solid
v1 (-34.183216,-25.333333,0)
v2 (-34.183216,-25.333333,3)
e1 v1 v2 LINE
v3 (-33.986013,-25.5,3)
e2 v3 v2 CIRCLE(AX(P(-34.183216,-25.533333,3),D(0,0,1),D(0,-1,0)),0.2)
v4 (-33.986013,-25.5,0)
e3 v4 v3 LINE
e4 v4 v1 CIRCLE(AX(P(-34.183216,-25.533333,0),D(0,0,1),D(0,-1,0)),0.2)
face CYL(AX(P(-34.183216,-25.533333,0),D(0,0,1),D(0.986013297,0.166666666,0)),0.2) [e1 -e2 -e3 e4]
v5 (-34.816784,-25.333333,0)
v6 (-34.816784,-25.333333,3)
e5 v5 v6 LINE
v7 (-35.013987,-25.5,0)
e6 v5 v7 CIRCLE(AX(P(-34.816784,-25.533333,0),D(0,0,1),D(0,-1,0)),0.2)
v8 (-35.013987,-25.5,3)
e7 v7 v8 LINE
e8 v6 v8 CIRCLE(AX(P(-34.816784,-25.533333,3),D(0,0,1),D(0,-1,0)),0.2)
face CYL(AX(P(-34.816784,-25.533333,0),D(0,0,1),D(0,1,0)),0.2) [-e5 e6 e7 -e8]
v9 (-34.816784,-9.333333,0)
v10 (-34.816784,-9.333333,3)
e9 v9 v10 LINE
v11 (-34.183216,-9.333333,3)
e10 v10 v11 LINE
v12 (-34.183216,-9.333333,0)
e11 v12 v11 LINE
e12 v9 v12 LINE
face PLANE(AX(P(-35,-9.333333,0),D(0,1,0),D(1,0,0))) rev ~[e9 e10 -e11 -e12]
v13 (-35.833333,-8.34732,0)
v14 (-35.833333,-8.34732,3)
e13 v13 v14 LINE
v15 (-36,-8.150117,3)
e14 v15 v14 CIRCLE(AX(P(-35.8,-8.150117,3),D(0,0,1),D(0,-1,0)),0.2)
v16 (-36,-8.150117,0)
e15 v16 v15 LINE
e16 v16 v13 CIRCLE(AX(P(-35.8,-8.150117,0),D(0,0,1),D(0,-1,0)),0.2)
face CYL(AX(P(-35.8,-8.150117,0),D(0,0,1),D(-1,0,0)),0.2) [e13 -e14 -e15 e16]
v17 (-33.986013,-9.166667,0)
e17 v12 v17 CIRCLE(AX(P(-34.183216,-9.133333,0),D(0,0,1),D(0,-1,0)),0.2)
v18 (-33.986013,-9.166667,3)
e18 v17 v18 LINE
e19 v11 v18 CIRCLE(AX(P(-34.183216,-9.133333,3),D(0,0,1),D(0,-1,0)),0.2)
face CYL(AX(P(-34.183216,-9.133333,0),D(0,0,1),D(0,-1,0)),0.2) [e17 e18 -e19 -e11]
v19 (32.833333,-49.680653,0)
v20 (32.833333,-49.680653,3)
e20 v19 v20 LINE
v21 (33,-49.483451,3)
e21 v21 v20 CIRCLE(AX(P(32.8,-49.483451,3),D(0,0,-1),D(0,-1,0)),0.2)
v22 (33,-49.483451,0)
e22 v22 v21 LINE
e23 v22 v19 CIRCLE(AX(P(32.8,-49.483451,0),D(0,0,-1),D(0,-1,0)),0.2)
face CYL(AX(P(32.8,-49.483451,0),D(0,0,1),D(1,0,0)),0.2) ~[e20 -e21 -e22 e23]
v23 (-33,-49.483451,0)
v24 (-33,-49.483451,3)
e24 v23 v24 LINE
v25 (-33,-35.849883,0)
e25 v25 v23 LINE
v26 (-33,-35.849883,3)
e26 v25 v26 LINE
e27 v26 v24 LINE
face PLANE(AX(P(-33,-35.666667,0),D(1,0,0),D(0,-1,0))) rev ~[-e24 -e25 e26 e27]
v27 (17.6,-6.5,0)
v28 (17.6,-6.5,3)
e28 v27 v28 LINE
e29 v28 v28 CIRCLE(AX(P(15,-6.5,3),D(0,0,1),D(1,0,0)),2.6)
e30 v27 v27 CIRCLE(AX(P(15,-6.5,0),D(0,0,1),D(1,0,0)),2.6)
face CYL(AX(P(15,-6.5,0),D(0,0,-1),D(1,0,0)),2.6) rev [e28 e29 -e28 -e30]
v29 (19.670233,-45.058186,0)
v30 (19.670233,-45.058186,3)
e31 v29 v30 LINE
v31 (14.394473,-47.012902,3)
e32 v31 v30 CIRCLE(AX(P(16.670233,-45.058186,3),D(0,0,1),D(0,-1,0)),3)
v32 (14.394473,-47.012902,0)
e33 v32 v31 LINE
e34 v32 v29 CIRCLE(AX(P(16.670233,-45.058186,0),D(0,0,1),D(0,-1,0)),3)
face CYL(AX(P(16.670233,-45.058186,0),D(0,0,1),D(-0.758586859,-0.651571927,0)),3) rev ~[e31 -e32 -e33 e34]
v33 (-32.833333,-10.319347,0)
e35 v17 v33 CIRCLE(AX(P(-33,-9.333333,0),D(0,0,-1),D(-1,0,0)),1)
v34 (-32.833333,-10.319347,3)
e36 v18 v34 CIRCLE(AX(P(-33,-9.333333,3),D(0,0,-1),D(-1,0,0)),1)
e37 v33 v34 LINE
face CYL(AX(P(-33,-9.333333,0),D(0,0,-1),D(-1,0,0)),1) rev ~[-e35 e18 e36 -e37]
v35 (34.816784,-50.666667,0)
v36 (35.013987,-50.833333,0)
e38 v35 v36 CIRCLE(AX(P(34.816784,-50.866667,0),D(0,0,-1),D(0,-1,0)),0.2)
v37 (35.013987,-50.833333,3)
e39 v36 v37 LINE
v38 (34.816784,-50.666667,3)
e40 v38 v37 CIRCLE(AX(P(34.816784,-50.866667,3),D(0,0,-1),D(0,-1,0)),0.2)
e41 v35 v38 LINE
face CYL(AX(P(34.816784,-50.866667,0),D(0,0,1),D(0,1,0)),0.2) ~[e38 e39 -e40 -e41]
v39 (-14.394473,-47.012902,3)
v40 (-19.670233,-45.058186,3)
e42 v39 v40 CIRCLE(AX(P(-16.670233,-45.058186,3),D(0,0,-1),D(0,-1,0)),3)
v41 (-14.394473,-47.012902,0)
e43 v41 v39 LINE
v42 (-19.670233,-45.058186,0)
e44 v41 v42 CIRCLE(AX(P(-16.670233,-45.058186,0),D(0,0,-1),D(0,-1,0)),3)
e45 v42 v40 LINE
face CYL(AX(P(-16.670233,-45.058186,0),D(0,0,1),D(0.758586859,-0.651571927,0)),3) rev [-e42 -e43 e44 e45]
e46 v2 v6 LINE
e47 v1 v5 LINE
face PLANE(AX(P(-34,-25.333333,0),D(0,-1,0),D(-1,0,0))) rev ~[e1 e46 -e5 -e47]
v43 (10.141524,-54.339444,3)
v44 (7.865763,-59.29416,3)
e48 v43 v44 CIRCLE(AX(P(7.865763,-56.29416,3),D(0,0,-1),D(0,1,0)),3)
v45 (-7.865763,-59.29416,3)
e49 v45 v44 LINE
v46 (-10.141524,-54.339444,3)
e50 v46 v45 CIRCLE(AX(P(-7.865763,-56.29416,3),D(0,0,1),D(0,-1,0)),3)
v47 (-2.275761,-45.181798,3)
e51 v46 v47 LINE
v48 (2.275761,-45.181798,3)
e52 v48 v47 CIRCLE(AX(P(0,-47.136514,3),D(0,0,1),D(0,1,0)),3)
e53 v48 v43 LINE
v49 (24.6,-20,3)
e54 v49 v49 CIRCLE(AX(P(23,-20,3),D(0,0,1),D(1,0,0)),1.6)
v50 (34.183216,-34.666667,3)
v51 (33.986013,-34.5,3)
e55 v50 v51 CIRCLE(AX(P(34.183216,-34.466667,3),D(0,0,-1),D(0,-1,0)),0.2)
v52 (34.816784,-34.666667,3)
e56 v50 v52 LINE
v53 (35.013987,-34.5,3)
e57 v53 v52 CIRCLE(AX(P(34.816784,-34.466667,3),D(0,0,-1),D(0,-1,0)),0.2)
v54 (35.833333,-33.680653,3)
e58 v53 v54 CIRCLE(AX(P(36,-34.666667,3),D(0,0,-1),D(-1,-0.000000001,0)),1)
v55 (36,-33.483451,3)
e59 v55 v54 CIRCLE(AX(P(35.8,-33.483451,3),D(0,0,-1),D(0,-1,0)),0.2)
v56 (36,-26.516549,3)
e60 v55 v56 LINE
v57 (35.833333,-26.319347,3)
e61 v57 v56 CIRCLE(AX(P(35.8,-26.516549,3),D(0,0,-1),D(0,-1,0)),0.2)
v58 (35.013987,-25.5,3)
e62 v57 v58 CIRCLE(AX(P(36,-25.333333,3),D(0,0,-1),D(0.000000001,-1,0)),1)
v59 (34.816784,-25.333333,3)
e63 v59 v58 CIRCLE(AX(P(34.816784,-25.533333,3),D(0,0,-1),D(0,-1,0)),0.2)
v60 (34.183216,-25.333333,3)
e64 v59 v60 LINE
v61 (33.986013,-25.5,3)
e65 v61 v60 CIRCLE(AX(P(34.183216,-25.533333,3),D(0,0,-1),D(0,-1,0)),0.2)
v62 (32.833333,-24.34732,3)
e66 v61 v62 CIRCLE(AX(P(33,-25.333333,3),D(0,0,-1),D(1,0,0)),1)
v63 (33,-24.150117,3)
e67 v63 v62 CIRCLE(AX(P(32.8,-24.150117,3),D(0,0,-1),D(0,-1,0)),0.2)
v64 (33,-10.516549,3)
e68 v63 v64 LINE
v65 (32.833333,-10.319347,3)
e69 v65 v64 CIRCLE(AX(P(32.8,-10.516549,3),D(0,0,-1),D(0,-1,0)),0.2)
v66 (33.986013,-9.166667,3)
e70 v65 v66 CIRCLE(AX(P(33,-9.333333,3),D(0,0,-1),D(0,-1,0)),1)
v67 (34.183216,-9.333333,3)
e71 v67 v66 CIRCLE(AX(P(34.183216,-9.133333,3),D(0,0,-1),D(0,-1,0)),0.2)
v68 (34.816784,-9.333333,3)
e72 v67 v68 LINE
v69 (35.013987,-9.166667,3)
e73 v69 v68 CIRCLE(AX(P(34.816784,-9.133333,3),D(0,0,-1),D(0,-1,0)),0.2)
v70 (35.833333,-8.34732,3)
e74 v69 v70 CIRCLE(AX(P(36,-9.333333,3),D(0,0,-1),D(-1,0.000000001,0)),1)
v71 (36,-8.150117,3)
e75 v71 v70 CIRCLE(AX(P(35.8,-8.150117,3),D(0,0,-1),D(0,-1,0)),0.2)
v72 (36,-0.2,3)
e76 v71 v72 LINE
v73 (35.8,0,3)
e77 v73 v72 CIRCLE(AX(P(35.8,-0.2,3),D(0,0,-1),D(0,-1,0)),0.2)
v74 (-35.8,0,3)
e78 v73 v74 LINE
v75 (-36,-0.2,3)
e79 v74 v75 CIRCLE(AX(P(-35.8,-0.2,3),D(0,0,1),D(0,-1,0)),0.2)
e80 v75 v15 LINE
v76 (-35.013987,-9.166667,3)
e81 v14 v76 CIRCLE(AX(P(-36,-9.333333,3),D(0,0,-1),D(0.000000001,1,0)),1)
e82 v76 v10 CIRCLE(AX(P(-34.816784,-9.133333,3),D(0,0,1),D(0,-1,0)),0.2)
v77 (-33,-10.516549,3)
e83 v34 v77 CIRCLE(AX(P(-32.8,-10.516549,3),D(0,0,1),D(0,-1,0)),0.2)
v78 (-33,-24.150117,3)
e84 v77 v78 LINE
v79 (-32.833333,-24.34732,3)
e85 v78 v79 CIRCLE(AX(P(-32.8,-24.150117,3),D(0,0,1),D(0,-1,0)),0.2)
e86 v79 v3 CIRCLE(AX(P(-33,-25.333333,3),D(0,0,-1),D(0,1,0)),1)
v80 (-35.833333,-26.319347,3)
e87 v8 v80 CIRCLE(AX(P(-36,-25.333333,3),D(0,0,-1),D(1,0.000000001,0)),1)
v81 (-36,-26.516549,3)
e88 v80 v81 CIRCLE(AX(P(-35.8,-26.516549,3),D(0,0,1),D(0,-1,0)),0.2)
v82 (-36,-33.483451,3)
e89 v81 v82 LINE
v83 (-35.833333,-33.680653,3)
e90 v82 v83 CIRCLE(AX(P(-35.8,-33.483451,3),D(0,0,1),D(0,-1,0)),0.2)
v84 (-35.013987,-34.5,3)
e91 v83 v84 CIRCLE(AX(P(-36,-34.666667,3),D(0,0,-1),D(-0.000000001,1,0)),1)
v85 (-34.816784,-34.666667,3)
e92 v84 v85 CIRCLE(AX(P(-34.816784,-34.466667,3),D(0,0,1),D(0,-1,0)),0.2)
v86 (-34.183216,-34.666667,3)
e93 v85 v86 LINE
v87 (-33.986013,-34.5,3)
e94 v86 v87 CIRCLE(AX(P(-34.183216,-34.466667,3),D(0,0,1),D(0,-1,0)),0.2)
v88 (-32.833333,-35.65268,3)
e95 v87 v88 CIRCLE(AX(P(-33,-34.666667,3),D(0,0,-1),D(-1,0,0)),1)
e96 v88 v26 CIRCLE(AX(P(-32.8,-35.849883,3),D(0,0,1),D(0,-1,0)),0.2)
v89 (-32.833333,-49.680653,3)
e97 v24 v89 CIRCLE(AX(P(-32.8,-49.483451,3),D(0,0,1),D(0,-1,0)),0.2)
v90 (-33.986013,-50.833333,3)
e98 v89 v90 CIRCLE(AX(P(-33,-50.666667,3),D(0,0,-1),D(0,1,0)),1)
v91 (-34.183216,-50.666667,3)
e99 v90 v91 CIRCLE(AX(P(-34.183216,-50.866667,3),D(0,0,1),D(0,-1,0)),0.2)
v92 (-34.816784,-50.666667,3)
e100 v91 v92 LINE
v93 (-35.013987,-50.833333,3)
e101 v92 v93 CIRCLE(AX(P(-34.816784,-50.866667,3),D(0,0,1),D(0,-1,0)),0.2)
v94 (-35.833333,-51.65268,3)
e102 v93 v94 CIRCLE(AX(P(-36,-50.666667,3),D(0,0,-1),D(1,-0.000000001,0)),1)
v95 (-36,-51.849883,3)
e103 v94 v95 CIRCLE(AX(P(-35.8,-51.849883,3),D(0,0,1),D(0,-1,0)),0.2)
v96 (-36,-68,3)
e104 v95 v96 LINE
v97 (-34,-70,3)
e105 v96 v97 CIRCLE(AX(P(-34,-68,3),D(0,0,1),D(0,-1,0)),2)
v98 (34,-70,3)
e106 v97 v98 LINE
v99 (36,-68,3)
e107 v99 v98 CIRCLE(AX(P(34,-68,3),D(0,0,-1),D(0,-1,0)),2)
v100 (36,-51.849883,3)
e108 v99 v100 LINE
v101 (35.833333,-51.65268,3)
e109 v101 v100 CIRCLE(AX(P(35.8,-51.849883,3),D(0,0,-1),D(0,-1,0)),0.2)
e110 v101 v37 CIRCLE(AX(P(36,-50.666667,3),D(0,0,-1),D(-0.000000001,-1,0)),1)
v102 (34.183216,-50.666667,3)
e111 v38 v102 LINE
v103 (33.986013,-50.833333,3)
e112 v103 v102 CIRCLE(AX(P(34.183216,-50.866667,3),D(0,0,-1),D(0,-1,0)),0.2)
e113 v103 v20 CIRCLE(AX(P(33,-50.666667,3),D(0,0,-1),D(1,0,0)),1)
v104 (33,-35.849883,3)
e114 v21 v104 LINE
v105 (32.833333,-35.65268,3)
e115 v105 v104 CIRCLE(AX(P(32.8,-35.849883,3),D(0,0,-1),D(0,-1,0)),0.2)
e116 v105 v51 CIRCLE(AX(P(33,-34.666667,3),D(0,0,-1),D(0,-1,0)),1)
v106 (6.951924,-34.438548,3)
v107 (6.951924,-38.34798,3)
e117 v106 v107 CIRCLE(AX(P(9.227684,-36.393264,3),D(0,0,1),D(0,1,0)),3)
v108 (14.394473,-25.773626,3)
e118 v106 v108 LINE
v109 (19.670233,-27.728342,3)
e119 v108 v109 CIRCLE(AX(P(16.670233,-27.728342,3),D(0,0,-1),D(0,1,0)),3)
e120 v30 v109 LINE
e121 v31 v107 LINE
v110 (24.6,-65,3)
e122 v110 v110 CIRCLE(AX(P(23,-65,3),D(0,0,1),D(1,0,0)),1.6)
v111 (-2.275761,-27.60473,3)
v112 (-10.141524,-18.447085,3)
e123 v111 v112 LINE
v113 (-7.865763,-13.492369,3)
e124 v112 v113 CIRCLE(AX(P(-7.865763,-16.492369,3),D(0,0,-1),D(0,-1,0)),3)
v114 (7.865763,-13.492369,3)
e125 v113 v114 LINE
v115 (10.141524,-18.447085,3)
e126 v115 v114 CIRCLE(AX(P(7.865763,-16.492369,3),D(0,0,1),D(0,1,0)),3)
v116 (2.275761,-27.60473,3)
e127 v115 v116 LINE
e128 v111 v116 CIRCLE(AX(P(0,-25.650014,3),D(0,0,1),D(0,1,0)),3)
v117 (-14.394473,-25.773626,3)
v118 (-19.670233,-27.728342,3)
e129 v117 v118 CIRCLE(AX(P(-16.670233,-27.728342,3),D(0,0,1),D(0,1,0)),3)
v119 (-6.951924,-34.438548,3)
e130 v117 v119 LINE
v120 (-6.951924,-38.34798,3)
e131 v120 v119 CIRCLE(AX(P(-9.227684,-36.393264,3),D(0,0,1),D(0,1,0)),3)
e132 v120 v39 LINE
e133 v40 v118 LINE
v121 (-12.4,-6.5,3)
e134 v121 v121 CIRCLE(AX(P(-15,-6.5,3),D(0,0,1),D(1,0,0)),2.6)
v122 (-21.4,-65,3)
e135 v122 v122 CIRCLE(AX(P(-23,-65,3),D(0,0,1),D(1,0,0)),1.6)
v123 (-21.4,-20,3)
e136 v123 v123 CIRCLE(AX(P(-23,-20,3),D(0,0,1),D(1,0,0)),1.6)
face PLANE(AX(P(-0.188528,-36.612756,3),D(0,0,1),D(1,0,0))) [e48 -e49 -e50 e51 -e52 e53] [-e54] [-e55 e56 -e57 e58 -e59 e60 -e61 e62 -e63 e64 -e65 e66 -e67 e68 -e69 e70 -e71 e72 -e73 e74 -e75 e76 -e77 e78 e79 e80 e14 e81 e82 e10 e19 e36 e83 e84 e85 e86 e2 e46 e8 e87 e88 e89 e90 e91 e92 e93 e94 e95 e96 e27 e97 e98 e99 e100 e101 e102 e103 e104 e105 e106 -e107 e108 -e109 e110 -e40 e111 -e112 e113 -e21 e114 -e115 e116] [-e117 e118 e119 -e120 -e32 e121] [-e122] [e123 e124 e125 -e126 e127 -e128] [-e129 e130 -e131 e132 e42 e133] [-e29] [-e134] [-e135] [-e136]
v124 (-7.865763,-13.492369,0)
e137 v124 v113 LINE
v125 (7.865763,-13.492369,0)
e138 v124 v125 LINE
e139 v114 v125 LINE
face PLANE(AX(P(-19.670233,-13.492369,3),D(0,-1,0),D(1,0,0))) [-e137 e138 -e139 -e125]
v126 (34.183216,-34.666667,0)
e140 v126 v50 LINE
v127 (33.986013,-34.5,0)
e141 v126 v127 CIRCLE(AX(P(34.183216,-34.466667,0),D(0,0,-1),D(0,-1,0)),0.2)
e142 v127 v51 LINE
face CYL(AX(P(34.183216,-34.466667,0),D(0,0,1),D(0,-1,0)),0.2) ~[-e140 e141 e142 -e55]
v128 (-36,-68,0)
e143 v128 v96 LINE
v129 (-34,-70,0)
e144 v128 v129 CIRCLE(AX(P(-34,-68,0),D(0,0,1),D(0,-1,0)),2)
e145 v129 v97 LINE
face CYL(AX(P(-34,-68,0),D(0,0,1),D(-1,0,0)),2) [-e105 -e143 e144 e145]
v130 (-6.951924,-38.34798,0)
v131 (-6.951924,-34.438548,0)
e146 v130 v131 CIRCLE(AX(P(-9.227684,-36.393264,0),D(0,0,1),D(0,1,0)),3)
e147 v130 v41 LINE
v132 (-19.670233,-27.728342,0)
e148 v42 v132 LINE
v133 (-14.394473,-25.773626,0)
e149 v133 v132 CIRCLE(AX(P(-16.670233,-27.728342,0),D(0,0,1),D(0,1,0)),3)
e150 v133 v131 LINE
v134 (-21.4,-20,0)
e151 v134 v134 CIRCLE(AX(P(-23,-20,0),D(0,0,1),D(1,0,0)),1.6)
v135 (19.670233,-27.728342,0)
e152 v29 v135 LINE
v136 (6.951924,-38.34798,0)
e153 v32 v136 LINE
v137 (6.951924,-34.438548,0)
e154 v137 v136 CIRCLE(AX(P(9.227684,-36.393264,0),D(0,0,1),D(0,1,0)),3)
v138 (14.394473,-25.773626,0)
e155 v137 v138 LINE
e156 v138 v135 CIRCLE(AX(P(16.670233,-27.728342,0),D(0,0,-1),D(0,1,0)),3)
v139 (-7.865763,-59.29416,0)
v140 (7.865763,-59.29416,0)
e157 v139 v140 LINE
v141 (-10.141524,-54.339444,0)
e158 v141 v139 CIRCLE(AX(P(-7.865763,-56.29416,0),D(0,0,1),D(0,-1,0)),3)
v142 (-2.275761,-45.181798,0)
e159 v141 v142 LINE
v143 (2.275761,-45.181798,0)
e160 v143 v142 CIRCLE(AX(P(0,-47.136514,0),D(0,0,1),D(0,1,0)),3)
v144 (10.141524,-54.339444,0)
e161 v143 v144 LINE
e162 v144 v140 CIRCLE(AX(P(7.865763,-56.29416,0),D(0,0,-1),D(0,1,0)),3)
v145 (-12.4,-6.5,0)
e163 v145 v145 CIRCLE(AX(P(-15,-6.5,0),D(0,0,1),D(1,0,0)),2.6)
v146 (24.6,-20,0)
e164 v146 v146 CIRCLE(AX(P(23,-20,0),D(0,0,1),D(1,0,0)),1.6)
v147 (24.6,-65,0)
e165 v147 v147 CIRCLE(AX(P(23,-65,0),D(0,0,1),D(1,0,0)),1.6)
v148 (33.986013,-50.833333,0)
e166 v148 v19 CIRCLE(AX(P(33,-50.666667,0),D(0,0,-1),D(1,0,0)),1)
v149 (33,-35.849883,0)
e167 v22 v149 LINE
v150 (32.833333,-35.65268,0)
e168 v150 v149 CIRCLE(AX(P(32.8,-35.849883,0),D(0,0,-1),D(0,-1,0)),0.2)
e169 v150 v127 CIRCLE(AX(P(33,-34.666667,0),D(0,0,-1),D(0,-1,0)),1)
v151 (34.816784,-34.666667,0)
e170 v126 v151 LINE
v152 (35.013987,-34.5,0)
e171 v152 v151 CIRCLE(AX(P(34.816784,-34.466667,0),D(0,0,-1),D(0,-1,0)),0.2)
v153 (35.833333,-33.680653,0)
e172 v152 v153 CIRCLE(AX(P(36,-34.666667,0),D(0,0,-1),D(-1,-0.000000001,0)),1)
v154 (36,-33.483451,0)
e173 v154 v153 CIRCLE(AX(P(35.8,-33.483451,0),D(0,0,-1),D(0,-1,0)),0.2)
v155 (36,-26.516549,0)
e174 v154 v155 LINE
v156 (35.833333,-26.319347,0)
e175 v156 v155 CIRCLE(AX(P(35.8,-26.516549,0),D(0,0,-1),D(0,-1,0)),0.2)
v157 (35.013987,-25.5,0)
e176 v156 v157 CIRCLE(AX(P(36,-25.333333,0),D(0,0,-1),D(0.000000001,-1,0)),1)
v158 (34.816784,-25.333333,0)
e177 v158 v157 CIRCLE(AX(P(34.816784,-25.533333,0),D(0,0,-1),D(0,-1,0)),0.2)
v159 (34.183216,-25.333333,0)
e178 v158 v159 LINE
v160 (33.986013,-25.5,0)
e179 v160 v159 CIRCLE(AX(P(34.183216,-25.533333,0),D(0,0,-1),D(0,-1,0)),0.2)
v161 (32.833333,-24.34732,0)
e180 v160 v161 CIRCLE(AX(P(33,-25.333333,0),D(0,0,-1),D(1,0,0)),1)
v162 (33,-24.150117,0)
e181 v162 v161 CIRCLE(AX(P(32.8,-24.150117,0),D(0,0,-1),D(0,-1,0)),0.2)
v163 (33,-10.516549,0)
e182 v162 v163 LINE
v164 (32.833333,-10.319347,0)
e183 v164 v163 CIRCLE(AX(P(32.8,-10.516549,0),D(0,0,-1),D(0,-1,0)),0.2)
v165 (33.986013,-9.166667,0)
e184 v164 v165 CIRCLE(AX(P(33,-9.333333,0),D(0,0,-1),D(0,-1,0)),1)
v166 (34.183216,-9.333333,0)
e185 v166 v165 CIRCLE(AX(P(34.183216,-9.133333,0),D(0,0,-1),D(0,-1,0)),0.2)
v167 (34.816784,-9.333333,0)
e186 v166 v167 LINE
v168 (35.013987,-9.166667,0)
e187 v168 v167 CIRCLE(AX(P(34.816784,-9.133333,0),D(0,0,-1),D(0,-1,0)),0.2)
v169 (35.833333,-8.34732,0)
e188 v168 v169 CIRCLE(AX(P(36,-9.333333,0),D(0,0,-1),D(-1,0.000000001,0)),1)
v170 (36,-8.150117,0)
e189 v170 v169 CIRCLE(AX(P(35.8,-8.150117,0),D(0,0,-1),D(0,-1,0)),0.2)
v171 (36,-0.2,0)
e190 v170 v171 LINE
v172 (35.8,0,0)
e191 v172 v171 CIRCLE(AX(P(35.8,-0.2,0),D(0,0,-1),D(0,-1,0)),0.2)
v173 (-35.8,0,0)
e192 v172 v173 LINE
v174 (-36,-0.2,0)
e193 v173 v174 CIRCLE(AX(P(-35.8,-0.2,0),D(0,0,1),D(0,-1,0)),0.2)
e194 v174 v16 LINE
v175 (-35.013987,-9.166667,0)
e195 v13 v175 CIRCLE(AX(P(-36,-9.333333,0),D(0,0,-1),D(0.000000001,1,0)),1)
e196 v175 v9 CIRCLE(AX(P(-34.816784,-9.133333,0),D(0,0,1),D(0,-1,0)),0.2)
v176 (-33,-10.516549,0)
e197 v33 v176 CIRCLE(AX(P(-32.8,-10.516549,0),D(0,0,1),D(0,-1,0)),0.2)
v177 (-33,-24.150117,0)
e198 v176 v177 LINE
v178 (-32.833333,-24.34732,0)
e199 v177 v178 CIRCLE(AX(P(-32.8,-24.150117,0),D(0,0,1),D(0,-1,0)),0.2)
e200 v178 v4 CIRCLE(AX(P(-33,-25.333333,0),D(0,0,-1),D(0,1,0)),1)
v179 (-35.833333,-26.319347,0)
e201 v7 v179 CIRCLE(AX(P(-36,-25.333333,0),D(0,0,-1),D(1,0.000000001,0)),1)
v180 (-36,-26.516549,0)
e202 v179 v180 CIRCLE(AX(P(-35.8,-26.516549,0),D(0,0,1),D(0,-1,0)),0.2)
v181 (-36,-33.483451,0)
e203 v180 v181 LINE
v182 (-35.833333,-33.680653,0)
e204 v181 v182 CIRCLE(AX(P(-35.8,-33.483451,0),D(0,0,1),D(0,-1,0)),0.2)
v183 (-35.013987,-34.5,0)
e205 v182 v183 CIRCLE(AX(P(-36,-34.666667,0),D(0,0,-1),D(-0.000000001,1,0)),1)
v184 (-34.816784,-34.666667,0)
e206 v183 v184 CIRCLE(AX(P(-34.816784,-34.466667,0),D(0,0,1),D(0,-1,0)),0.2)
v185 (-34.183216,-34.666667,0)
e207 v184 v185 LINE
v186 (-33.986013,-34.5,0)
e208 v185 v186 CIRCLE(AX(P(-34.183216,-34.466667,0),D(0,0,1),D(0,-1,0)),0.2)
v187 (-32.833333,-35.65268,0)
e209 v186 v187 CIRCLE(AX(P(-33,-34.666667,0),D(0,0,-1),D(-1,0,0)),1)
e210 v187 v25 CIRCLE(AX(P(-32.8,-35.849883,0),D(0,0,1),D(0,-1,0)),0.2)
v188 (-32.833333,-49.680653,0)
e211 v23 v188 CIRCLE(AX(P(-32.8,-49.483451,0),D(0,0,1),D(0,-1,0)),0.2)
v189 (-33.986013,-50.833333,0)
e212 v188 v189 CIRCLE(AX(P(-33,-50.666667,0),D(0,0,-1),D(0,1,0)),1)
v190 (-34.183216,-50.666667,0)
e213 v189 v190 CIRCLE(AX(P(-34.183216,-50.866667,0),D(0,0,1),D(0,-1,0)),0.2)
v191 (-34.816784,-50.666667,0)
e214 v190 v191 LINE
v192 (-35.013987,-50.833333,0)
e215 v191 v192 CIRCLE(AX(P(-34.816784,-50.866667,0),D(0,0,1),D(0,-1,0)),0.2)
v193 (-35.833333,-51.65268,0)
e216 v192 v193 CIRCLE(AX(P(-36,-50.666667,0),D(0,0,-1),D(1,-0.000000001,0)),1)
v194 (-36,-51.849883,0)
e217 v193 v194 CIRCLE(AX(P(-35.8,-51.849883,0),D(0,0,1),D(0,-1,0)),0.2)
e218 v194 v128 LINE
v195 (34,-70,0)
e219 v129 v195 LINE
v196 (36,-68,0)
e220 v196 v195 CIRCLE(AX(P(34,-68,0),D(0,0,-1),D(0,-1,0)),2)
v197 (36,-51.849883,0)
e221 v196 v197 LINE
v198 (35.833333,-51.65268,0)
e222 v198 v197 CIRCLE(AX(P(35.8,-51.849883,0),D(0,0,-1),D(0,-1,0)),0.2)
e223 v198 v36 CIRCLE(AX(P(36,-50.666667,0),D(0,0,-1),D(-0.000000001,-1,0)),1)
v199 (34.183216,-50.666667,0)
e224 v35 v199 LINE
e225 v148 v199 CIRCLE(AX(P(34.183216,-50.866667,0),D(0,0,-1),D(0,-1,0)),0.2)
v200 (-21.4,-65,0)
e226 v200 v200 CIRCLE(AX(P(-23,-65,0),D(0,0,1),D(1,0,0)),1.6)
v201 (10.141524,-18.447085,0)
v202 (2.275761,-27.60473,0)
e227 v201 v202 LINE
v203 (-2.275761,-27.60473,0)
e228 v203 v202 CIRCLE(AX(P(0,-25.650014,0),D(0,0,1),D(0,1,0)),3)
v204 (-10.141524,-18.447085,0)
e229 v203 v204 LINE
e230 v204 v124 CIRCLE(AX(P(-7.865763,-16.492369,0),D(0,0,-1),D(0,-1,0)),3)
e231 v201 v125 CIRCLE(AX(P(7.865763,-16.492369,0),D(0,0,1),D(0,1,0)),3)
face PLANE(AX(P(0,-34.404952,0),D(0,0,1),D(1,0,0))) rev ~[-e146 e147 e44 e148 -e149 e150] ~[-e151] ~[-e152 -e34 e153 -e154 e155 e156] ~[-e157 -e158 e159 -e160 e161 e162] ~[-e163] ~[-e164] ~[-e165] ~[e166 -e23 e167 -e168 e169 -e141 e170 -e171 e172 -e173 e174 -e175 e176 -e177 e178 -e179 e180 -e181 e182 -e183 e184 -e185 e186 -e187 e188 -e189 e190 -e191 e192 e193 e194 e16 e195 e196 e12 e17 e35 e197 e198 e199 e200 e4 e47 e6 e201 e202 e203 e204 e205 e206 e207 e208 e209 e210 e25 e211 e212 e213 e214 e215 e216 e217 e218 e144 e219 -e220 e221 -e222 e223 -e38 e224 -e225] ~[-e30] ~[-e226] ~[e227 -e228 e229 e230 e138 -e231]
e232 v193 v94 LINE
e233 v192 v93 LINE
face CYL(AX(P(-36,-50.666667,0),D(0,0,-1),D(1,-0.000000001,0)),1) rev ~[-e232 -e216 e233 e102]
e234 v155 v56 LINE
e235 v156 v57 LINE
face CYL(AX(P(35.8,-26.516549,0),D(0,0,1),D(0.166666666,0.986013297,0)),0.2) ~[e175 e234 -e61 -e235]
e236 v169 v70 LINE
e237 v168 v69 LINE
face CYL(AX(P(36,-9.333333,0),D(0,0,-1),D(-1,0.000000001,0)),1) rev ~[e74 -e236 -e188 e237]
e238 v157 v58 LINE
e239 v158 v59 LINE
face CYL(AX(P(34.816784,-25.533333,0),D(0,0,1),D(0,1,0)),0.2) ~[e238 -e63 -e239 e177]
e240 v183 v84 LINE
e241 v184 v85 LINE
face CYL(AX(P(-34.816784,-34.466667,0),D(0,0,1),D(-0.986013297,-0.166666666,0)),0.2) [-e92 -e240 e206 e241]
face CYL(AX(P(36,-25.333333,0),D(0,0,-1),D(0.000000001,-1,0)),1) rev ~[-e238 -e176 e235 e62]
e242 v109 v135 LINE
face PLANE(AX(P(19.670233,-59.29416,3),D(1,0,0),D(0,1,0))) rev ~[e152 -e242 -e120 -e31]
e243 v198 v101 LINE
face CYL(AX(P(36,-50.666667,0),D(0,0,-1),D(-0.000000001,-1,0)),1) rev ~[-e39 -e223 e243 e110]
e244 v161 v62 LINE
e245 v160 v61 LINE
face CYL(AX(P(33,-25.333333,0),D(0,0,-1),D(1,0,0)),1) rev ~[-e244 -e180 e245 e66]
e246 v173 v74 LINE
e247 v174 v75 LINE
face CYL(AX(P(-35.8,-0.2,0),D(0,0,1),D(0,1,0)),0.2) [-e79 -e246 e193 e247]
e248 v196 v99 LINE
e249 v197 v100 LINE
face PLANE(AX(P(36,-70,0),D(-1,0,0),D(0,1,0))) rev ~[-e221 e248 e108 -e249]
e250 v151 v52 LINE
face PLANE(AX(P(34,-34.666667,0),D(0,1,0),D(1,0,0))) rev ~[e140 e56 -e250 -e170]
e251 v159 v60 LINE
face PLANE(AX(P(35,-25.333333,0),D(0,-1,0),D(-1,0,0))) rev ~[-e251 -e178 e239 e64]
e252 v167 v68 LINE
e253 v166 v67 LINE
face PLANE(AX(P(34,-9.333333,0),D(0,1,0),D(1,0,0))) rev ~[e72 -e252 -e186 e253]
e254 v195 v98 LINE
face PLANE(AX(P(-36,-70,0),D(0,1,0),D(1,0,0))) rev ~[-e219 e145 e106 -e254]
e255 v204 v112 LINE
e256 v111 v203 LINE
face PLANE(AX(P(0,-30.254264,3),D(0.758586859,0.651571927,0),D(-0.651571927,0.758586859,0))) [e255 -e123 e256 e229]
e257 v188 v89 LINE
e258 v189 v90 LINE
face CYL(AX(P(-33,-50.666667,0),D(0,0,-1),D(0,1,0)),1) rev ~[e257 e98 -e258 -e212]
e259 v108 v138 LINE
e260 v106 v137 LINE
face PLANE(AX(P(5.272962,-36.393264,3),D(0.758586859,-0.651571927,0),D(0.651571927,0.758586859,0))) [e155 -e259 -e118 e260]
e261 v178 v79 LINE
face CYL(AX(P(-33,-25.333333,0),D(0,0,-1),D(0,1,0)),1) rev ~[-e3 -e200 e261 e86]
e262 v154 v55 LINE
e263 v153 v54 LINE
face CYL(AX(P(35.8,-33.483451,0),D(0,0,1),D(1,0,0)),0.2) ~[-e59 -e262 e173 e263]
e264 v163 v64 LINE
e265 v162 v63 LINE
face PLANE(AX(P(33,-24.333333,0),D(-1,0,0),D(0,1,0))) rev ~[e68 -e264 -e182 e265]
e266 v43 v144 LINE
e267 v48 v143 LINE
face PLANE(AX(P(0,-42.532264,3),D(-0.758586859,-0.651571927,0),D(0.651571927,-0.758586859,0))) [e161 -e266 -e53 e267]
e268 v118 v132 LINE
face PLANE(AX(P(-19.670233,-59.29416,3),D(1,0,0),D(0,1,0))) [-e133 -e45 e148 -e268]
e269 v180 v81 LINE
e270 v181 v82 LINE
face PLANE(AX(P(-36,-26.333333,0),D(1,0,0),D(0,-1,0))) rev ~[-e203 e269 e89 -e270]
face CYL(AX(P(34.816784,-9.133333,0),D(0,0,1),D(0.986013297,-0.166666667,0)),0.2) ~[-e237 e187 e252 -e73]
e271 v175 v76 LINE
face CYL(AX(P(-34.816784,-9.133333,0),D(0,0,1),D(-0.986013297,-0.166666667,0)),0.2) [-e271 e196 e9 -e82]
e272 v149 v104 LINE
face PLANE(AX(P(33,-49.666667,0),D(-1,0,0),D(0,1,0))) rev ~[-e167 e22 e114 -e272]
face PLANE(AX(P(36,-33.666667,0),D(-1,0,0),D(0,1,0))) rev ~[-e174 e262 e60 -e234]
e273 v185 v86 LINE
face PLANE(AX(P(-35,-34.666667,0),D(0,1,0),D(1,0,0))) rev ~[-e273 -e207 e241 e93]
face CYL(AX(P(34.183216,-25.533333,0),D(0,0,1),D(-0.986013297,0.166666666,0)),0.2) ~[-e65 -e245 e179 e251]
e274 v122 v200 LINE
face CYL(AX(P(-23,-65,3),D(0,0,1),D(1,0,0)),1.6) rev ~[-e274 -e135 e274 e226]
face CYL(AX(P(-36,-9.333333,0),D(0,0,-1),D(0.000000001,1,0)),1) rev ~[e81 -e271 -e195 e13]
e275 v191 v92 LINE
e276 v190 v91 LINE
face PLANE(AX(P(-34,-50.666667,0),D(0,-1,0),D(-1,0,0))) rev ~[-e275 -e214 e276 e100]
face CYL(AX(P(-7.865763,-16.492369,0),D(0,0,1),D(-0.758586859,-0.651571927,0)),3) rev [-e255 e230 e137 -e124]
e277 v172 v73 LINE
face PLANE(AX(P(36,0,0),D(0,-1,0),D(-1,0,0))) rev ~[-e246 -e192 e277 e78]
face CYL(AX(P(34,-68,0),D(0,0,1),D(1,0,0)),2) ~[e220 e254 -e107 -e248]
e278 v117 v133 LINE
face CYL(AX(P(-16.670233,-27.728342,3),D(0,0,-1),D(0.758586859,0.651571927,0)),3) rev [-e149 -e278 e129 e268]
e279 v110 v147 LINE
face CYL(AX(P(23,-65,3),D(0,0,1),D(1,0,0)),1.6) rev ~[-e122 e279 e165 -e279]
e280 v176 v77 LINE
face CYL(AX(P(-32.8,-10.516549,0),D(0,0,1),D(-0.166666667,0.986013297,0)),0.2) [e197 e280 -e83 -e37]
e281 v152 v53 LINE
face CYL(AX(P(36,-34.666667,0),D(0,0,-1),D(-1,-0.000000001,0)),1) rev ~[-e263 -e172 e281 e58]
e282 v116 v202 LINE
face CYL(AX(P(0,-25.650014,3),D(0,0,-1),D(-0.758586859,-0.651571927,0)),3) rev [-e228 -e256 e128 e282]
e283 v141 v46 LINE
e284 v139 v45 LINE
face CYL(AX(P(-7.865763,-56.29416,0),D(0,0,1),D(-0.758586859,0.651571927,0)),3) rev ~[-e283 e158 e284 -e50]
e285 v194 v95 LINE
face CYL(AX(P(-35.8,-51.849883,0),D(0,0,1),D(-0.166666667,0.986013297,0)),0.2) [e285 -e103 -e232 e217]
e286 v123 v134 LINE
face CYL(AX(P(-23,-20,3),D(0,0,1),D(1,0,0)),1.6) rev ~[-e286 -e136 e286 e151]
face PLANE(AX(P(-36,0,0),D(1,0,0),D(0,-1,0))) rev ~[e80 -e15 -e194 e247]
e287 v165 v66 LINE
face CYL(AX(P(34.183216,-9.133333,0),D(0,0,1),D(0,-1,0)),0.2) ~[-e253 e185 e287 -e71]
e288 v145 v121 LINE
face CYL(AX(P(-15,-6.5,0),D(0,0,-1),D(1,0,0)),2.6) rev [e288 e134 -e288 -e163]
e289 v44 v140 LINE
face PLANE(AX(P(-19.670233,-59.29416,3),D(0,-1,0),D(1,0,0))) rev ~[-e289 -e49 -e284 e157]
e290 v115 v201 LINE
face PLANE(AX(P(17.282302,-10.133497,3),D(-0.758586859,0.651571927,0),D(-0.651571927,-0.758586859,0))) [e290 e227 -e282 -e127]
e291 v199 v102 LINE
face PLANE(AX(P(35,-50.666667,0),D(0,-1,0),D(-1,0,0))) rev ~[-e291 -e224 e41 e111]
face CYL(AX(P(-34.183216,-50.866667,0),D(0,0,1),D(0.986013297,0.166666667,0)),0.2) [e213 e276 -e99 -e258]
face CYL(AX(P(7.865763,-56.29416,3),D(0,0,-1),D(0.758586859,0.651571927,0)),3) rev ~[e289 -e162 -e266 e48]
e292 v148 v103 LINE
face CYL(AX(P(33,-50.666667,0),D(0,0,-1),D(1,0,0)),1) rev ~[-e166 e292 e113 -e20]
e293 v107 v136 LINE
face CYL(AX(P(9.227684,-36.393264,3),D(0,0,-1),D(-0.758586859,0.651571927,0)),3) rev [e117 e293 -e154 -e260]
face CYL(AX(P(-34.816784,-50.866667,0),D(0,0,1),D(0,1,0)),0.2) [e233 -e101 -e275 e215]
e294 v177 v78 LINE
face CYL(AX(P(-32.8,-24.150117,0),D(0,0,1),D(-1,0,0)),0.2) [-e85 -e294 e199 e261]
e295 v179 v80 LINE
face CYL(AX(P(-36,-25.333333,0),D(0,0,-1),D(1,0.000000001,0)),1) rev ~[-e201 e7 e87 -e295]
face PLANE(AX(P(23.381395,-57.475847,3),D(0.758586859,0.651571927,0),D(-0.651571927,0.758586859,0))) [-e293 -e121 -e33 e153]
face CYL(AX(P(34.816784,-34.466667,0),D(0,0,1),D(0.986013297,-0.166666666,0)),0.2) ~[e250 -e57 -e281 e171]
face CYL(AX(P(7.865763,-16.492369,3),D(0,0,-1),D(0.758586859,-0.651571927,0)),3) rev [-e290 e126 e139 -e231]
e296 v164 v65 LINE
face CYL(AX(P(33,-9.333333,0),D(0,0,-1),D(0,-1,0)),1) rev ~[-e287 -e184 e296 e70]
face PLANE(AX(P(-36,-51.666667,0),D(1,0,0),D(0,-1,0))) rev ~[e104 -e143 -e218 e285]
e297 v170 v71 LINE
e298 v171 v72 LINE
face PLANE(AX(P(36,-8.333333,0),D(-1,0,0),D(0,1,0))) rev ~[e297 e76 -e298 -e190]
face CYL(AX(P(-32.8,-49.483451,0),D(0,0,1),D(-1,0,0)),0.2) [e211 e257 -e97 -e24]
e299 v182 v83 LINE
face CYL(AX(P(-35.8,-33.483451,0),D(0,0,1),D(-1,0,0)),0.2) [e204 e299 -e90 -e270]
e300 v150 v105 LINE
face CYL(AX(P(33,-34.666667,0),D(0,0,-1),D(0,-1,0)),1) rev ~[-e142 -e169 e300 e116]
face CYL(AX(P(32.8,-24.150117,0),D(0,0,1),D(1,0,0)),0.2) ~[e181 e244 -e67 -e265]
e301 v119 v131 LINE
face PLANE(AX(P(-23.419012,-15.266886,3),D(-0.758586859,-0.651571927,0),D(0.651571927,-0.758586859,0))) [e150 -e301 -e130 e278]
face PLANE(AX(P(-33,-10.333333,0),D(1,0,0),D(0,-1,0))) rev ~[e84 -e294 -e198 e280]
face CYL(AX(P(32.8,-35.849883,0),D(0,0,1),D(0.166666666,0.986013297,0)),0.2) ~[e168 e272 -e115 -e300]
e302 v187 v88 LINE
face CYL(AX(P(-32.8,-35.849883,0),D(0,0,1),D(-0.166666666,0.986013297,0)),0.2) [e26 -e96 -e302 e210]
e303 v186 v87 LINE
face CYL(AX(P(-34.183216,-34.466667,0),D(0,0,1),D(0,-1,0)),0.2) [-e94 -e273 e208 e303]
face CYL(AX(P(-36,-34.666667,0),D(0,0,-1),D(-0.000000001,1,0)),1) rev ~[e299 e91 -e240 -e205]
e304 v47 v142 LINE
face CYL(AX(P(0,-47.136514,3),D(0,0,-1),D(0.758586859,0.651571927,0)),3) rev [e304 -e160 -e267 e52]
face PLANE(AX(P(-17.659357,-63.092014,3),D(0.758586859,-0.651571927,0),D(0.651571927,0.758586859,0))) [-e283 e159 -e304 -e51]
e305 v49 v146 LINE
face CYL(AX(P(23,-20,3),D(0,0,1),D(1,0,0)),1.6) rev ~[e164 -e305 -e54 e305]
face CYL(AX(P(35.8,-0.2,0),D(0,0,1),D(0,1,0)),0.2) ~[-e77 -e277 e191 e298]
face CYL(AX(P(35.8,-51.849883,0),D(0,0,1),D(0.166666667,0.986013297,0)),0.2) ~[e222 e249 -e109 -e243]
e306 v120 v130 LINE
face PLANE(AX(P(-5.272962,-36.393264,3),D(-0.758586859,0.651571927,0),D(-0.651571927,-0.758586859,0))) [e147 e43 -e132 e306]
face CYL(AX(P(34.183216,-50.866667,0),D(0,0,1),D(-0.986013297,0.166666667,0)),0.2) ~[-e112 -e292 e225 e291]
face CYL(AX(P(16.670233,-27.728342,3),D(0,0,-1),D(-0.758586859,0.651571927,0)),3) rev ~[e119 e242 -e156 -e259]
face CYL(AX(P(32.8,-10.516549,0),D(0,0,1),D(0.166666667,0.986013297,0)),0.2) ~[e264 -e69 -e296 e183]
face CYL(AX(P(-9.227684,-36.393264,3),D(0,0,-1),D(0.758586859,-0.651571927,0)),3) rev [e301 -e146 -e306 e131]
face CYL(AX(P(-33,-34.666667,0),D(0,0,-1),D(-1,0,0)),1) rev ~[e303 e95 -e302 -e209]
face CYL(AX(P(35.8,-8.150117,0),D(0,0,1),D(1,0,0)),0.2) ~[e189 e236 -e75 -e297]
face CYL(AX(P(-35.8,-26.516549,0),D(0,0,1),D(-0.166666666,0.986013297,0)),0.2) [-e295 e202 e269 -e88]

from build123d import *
from OCP.BRepFilletAPI import BRepFilletAPI_MakeFillet

# Parameters (mm, degrees)
SKETCH_1_R          = 2.6
EXTRUDE_1_DEPTH     = 3
FILLET_1_R1         = 0.2
FILLET_1_R2         = 2
SKETCH_2_R          = 1.6
CUT_EXTRUDE_1_DEPTH = 10
SKETCH_8_R          = 1.6
CUT_EXTRUDE_5_DEPTH = 3
SKETCH_10_R         = 1.6
CUT_EXTRUDE_6_DEPTH = 10
SKETCH_11_W         = 39.340466826
SKETCH_11_H         = 45.8017909
CUT_EXTRUDE_7_DEPTH = 10
EXTRUDE_1_2_DEPTH   = 3
FILLET_2_R          = 3


with BuildPart() as part:
    # 草图1 → Extrude 1 (new body)
    with BuildSketch(Plane.XY):
        with BuildLine():
            Line((36, 0), (-36, 0))
            Line((-36, 0), (-36, -8.333333333))
            ThreePointArc((-36, -8.333333333), (-35.292893219, -8.626226552), (-35, -9.333333333))
            Line((-35, -9.333333333), (-34, -9.333333333))
            ThreePointArc((-34, -9.333333333), (-32.292893219, -8.626226552), (-33, -10.333333333))
            Line((-33, -10.333333333), (-33, -24.333333333))
            ThreePointArc((-33, -24.333333333), (-32.292893219, -26.040440115), (-34, -25.333333333))
            Line((-34, -25.333333333), (-35, -25.333333333))
            ThreePointArc((-35, -25.333333333), (-35.292893219, -26.040440115), (-36, -26.333333333))
            Line((-36, -26.333333333), (-36, -33.666666667))
            ThreePointArc((-36, -33.666666667), (-35.292893219, -33.959559885), (-35, -34.666666667))
            Line((-35, -34.666666667), (-34, -34.666666667))
            ThreePointArc((-34, -34.666666667), (-32.292893219, -33.959559885), (-33, -35.666666667))
            Line((-33, -35.666666667), (-33, -49.666666667))
            ThreePointArc((-33, -49.666666667), (-32.292893219, -51.373773448), (-34, -50.666666667))
            Line((-34, -50.666666667), (-35, -50.666666667))
            ThreePointArc((-35, -50.666666667), (-35.292893219, -51.373773448), (-36, -51.666666667))
            Line((-36, -51.666666667), (-36, -70))
            Line((-36, -70), (36, -70))
            Line((36, -70), (36, -51.666666667))
            ThreePointArc((36, -51.666666667), (35.292893219, -51.373773448), (35, -50.666666667))
            Line((35, -50.666666667), (34, -50.666666667))
            ThreePointArc((34, -50.666666667), (32.292893219, -51.373773448), (33, -49.666666667))
            Line((33, -49.666666667), (33, -35.666666667))
            ThreePointArc((33, -35.666666667), (32.292893219, -33.959559885), (34, -34.666666667))
            Line((34, -34.666666667), (35, -34.666666667))
            ThreePointArc((35, -34.666666667), (35.292893219, -33.959559885), (36, -33.666666667))
            Line((36, -33.666666667), (36, -26.333333333))
            ThreePointArc((36, -26.333333333), (35.292893219, -26.040440115), (35, -25.333333333))
            Line((35, -25.333333333), (34, -25.333333333))
            ThreePointArc((34, -25.333333333), (32.292893219, -26.040440115), (33, -24.333333333))
            Line((33, -24.333333333), (33, -10.333333333))
            ThreePointArc((33, -10.333333333), (32.292893219, -8.626226552), (34, -9.333333333))
            Line((34, -9.333333333), (35, -9.333333333))
            ThreePointArc((35, -9.333333333), (35.292893219, -8.626226552), (36, -8.333333333))
            Line((36, -8.333333333), (36, 0))
        make_face()
        with Locations((-15, -6.5)):
            Circle(SKETCH_1_R, mode=Mode.SUBTRACT)
        with Locations((15, -6.5)):
            Circle(SKETCH_1_R, mode=Mode.SUBTRACT)
    extrude(amount=EXTRUDE_1_DEPTH)

    # 圆角1: one fillet with a radius per group of edges: ONE call of the kernel's fillet builder (fillet() takes one radius for all edges)
    fillet_1_edges_1 = [part.edges().sort_by_distance(p)[0] for p in [
        (-35, -9.333333333, 1.5),
        (-34, -9.333333333, 1.5),
        (33, -10.333333333, 1.5),
        (34, -9.333333333, 1.5),
        (35, -9.333333333, 1.5),
        (36, -8.333333333, 1.5),
        (36, 0, 1.5),
        (-36, 0, 1.5),
        (-36, -8.333333333, 1.5),
        (-33, -10.333333333, 1.5),
        (-33, -24.333333333, 1.5),
        (-34, -25.333333333, 1.5),
        (-35, -25.333333333, 1.5),
        (-36, -26.333333333, 1.5),
        (-36, -33.666666667, 1.5),
        (-35, -34.666666667, 1.5),
        (-34, -34.666666667, 1.5),
        (-33, -35.666666667, 1.5),
        (-33, -49.666666667, 1.5),
        (-34, -50.666666667, 1.5),
        (-35, -50.666666667, 1.5),
        (-36, -51.666666667, 1.5),
        (36, -51.666666667, 1.5),
        (35, -50.666666667, 1.5),
        (34, -50.666666667, 1.5),
        (33, -49.666666667, 1.5),
        (33, -35.666666667, 1.5),
        (34, -34.666666667, 1.5),
        (35, -34.666666667, 1.5),
        (36, -33.666666667, 1.5),
        (36, -26.333333333, 1.5),
        (35, -25.333333333, 1.5),
        (34, -25.333333333, 1.5),
        (33, -24.333333333, 1.5),
    ]]
    fillet_1_edges_2 = [part.edges().sort_by_distance(p)[0] for p in [
        (-36, -70, 1.5),
        (36, -70, 1.5),
    ]]
    fillet_1 = BRepFilletAPI_MakeFillet(part.part.solid().wrapped)
    for e in fillet_1_edges_1:
        fillet_1.Add(FILLET_1_R1, e.wrapped)
    for e in fillet_1_edges_2:
        fillet_1.Add(FILLET_1_R2, e.wrapped)
    add(Compound.cast(fillet_1.Shape()), mode=Mode.REPLACE)

    # 草图2 → 切除-拉伸1 (cut)
    with BuildSketch(Plane.XY.offset(3)):
        with Locations((-23, -20)):
            Circle(SKETCH_2_R)
        with Locations((23, -20)):
            Circle(SKETCH_2_R)
    extrude(amount=-CUT_EXTRUDE_1_DEPTH, mode=Mode.SUBTRACT)

    # 草图8 → 切除-拉伸5 (cut)
    with BuildSketch(Plane.XY.offset(3)):
        with Locations((23, -65)):
            Circle(SKETCH_8_R)
        with Locations((-23, -65)):
            Circle(SKETCH_8_R)
    extrude(amount=-CUT_EXTRUDE_5_DEPTH, mode=Mode.SUBTRACT)

    # 草图10 → 切除-拉伸6 (cut)
    with BuildSketch(Plane.XY.offset(3)):
        with Locations((-12, -30)):
            Circle(SKETCH_10_R)
        with Locations((-12, -40)):
            Circle(SKETCH_10_R)
        with Locations((12, -40)):
            Circle(SKETCH_10_R)
        with Locations((12, -30)):
            Circle(SKETCH_10_R)
    extrude(amount=-CUT_EXTRUDE_6_DEPTH, mode=Mode.SUBTRACT)

    # 草图11 → 切除-拉伸7 (cut)
    with BuildSketch(Plane.XY.offset(3)):
        with Locations((0, -36.393264277)):
            Rectangle(SKETCH_11_W, SKETCH_11_H)
    extrude(amount=-CUT_EXTRUDE_7_DEPTH, mode=Mode.SUBTRACT)

    # 草图12 → Extrude 1 2 (add)
    with BuildSketch(Plane.XY.offset(3)):
        Polygon((17.282301657, -10.133497371), (-23.728051839, -57.879439072), (-17.659356964, -63.092014492), (23.350996533, -15.346072791), align=None)
        Polygon((-23.419012344, -15.266885984), (17.312700126, -62.688422331), (23.381395001, -57.475846911), (-17.350317469, -10.054310564), align=None)
    extrude(amount=-EXTRUDE_1_2_DEPTH)

    # 圆角2
    fillet_2_edges = [part.edges().sort_by_distance(p)[0] for p in [
        (0, -42.532264181, 1.5),
        (14.397270996, -59.294159727, 1.5),
        (-14.397270996, -59.294159727, 1.5),
        (-19.670233413, -19.631368731, 1.5),
        (-5.272962417, -36.393264277, 1.5),
        (-19.670233413, -53.155159823, 1.5),
        (19.670233413, -53.155159823, 1.5),
        (5.272962417, -36.393264277, 1.5),
        (19.670233413, -19.631368731, 1.5),
        (-14.397270996, -13.492368827, 1.5),
        (14.397270996, -13.492368827, 1.5),
        (0, -30.254264374, 1.5),
    ]]
    fillet(fillet_2_edges, radius=FILLET_2_R)


solid = part.part
